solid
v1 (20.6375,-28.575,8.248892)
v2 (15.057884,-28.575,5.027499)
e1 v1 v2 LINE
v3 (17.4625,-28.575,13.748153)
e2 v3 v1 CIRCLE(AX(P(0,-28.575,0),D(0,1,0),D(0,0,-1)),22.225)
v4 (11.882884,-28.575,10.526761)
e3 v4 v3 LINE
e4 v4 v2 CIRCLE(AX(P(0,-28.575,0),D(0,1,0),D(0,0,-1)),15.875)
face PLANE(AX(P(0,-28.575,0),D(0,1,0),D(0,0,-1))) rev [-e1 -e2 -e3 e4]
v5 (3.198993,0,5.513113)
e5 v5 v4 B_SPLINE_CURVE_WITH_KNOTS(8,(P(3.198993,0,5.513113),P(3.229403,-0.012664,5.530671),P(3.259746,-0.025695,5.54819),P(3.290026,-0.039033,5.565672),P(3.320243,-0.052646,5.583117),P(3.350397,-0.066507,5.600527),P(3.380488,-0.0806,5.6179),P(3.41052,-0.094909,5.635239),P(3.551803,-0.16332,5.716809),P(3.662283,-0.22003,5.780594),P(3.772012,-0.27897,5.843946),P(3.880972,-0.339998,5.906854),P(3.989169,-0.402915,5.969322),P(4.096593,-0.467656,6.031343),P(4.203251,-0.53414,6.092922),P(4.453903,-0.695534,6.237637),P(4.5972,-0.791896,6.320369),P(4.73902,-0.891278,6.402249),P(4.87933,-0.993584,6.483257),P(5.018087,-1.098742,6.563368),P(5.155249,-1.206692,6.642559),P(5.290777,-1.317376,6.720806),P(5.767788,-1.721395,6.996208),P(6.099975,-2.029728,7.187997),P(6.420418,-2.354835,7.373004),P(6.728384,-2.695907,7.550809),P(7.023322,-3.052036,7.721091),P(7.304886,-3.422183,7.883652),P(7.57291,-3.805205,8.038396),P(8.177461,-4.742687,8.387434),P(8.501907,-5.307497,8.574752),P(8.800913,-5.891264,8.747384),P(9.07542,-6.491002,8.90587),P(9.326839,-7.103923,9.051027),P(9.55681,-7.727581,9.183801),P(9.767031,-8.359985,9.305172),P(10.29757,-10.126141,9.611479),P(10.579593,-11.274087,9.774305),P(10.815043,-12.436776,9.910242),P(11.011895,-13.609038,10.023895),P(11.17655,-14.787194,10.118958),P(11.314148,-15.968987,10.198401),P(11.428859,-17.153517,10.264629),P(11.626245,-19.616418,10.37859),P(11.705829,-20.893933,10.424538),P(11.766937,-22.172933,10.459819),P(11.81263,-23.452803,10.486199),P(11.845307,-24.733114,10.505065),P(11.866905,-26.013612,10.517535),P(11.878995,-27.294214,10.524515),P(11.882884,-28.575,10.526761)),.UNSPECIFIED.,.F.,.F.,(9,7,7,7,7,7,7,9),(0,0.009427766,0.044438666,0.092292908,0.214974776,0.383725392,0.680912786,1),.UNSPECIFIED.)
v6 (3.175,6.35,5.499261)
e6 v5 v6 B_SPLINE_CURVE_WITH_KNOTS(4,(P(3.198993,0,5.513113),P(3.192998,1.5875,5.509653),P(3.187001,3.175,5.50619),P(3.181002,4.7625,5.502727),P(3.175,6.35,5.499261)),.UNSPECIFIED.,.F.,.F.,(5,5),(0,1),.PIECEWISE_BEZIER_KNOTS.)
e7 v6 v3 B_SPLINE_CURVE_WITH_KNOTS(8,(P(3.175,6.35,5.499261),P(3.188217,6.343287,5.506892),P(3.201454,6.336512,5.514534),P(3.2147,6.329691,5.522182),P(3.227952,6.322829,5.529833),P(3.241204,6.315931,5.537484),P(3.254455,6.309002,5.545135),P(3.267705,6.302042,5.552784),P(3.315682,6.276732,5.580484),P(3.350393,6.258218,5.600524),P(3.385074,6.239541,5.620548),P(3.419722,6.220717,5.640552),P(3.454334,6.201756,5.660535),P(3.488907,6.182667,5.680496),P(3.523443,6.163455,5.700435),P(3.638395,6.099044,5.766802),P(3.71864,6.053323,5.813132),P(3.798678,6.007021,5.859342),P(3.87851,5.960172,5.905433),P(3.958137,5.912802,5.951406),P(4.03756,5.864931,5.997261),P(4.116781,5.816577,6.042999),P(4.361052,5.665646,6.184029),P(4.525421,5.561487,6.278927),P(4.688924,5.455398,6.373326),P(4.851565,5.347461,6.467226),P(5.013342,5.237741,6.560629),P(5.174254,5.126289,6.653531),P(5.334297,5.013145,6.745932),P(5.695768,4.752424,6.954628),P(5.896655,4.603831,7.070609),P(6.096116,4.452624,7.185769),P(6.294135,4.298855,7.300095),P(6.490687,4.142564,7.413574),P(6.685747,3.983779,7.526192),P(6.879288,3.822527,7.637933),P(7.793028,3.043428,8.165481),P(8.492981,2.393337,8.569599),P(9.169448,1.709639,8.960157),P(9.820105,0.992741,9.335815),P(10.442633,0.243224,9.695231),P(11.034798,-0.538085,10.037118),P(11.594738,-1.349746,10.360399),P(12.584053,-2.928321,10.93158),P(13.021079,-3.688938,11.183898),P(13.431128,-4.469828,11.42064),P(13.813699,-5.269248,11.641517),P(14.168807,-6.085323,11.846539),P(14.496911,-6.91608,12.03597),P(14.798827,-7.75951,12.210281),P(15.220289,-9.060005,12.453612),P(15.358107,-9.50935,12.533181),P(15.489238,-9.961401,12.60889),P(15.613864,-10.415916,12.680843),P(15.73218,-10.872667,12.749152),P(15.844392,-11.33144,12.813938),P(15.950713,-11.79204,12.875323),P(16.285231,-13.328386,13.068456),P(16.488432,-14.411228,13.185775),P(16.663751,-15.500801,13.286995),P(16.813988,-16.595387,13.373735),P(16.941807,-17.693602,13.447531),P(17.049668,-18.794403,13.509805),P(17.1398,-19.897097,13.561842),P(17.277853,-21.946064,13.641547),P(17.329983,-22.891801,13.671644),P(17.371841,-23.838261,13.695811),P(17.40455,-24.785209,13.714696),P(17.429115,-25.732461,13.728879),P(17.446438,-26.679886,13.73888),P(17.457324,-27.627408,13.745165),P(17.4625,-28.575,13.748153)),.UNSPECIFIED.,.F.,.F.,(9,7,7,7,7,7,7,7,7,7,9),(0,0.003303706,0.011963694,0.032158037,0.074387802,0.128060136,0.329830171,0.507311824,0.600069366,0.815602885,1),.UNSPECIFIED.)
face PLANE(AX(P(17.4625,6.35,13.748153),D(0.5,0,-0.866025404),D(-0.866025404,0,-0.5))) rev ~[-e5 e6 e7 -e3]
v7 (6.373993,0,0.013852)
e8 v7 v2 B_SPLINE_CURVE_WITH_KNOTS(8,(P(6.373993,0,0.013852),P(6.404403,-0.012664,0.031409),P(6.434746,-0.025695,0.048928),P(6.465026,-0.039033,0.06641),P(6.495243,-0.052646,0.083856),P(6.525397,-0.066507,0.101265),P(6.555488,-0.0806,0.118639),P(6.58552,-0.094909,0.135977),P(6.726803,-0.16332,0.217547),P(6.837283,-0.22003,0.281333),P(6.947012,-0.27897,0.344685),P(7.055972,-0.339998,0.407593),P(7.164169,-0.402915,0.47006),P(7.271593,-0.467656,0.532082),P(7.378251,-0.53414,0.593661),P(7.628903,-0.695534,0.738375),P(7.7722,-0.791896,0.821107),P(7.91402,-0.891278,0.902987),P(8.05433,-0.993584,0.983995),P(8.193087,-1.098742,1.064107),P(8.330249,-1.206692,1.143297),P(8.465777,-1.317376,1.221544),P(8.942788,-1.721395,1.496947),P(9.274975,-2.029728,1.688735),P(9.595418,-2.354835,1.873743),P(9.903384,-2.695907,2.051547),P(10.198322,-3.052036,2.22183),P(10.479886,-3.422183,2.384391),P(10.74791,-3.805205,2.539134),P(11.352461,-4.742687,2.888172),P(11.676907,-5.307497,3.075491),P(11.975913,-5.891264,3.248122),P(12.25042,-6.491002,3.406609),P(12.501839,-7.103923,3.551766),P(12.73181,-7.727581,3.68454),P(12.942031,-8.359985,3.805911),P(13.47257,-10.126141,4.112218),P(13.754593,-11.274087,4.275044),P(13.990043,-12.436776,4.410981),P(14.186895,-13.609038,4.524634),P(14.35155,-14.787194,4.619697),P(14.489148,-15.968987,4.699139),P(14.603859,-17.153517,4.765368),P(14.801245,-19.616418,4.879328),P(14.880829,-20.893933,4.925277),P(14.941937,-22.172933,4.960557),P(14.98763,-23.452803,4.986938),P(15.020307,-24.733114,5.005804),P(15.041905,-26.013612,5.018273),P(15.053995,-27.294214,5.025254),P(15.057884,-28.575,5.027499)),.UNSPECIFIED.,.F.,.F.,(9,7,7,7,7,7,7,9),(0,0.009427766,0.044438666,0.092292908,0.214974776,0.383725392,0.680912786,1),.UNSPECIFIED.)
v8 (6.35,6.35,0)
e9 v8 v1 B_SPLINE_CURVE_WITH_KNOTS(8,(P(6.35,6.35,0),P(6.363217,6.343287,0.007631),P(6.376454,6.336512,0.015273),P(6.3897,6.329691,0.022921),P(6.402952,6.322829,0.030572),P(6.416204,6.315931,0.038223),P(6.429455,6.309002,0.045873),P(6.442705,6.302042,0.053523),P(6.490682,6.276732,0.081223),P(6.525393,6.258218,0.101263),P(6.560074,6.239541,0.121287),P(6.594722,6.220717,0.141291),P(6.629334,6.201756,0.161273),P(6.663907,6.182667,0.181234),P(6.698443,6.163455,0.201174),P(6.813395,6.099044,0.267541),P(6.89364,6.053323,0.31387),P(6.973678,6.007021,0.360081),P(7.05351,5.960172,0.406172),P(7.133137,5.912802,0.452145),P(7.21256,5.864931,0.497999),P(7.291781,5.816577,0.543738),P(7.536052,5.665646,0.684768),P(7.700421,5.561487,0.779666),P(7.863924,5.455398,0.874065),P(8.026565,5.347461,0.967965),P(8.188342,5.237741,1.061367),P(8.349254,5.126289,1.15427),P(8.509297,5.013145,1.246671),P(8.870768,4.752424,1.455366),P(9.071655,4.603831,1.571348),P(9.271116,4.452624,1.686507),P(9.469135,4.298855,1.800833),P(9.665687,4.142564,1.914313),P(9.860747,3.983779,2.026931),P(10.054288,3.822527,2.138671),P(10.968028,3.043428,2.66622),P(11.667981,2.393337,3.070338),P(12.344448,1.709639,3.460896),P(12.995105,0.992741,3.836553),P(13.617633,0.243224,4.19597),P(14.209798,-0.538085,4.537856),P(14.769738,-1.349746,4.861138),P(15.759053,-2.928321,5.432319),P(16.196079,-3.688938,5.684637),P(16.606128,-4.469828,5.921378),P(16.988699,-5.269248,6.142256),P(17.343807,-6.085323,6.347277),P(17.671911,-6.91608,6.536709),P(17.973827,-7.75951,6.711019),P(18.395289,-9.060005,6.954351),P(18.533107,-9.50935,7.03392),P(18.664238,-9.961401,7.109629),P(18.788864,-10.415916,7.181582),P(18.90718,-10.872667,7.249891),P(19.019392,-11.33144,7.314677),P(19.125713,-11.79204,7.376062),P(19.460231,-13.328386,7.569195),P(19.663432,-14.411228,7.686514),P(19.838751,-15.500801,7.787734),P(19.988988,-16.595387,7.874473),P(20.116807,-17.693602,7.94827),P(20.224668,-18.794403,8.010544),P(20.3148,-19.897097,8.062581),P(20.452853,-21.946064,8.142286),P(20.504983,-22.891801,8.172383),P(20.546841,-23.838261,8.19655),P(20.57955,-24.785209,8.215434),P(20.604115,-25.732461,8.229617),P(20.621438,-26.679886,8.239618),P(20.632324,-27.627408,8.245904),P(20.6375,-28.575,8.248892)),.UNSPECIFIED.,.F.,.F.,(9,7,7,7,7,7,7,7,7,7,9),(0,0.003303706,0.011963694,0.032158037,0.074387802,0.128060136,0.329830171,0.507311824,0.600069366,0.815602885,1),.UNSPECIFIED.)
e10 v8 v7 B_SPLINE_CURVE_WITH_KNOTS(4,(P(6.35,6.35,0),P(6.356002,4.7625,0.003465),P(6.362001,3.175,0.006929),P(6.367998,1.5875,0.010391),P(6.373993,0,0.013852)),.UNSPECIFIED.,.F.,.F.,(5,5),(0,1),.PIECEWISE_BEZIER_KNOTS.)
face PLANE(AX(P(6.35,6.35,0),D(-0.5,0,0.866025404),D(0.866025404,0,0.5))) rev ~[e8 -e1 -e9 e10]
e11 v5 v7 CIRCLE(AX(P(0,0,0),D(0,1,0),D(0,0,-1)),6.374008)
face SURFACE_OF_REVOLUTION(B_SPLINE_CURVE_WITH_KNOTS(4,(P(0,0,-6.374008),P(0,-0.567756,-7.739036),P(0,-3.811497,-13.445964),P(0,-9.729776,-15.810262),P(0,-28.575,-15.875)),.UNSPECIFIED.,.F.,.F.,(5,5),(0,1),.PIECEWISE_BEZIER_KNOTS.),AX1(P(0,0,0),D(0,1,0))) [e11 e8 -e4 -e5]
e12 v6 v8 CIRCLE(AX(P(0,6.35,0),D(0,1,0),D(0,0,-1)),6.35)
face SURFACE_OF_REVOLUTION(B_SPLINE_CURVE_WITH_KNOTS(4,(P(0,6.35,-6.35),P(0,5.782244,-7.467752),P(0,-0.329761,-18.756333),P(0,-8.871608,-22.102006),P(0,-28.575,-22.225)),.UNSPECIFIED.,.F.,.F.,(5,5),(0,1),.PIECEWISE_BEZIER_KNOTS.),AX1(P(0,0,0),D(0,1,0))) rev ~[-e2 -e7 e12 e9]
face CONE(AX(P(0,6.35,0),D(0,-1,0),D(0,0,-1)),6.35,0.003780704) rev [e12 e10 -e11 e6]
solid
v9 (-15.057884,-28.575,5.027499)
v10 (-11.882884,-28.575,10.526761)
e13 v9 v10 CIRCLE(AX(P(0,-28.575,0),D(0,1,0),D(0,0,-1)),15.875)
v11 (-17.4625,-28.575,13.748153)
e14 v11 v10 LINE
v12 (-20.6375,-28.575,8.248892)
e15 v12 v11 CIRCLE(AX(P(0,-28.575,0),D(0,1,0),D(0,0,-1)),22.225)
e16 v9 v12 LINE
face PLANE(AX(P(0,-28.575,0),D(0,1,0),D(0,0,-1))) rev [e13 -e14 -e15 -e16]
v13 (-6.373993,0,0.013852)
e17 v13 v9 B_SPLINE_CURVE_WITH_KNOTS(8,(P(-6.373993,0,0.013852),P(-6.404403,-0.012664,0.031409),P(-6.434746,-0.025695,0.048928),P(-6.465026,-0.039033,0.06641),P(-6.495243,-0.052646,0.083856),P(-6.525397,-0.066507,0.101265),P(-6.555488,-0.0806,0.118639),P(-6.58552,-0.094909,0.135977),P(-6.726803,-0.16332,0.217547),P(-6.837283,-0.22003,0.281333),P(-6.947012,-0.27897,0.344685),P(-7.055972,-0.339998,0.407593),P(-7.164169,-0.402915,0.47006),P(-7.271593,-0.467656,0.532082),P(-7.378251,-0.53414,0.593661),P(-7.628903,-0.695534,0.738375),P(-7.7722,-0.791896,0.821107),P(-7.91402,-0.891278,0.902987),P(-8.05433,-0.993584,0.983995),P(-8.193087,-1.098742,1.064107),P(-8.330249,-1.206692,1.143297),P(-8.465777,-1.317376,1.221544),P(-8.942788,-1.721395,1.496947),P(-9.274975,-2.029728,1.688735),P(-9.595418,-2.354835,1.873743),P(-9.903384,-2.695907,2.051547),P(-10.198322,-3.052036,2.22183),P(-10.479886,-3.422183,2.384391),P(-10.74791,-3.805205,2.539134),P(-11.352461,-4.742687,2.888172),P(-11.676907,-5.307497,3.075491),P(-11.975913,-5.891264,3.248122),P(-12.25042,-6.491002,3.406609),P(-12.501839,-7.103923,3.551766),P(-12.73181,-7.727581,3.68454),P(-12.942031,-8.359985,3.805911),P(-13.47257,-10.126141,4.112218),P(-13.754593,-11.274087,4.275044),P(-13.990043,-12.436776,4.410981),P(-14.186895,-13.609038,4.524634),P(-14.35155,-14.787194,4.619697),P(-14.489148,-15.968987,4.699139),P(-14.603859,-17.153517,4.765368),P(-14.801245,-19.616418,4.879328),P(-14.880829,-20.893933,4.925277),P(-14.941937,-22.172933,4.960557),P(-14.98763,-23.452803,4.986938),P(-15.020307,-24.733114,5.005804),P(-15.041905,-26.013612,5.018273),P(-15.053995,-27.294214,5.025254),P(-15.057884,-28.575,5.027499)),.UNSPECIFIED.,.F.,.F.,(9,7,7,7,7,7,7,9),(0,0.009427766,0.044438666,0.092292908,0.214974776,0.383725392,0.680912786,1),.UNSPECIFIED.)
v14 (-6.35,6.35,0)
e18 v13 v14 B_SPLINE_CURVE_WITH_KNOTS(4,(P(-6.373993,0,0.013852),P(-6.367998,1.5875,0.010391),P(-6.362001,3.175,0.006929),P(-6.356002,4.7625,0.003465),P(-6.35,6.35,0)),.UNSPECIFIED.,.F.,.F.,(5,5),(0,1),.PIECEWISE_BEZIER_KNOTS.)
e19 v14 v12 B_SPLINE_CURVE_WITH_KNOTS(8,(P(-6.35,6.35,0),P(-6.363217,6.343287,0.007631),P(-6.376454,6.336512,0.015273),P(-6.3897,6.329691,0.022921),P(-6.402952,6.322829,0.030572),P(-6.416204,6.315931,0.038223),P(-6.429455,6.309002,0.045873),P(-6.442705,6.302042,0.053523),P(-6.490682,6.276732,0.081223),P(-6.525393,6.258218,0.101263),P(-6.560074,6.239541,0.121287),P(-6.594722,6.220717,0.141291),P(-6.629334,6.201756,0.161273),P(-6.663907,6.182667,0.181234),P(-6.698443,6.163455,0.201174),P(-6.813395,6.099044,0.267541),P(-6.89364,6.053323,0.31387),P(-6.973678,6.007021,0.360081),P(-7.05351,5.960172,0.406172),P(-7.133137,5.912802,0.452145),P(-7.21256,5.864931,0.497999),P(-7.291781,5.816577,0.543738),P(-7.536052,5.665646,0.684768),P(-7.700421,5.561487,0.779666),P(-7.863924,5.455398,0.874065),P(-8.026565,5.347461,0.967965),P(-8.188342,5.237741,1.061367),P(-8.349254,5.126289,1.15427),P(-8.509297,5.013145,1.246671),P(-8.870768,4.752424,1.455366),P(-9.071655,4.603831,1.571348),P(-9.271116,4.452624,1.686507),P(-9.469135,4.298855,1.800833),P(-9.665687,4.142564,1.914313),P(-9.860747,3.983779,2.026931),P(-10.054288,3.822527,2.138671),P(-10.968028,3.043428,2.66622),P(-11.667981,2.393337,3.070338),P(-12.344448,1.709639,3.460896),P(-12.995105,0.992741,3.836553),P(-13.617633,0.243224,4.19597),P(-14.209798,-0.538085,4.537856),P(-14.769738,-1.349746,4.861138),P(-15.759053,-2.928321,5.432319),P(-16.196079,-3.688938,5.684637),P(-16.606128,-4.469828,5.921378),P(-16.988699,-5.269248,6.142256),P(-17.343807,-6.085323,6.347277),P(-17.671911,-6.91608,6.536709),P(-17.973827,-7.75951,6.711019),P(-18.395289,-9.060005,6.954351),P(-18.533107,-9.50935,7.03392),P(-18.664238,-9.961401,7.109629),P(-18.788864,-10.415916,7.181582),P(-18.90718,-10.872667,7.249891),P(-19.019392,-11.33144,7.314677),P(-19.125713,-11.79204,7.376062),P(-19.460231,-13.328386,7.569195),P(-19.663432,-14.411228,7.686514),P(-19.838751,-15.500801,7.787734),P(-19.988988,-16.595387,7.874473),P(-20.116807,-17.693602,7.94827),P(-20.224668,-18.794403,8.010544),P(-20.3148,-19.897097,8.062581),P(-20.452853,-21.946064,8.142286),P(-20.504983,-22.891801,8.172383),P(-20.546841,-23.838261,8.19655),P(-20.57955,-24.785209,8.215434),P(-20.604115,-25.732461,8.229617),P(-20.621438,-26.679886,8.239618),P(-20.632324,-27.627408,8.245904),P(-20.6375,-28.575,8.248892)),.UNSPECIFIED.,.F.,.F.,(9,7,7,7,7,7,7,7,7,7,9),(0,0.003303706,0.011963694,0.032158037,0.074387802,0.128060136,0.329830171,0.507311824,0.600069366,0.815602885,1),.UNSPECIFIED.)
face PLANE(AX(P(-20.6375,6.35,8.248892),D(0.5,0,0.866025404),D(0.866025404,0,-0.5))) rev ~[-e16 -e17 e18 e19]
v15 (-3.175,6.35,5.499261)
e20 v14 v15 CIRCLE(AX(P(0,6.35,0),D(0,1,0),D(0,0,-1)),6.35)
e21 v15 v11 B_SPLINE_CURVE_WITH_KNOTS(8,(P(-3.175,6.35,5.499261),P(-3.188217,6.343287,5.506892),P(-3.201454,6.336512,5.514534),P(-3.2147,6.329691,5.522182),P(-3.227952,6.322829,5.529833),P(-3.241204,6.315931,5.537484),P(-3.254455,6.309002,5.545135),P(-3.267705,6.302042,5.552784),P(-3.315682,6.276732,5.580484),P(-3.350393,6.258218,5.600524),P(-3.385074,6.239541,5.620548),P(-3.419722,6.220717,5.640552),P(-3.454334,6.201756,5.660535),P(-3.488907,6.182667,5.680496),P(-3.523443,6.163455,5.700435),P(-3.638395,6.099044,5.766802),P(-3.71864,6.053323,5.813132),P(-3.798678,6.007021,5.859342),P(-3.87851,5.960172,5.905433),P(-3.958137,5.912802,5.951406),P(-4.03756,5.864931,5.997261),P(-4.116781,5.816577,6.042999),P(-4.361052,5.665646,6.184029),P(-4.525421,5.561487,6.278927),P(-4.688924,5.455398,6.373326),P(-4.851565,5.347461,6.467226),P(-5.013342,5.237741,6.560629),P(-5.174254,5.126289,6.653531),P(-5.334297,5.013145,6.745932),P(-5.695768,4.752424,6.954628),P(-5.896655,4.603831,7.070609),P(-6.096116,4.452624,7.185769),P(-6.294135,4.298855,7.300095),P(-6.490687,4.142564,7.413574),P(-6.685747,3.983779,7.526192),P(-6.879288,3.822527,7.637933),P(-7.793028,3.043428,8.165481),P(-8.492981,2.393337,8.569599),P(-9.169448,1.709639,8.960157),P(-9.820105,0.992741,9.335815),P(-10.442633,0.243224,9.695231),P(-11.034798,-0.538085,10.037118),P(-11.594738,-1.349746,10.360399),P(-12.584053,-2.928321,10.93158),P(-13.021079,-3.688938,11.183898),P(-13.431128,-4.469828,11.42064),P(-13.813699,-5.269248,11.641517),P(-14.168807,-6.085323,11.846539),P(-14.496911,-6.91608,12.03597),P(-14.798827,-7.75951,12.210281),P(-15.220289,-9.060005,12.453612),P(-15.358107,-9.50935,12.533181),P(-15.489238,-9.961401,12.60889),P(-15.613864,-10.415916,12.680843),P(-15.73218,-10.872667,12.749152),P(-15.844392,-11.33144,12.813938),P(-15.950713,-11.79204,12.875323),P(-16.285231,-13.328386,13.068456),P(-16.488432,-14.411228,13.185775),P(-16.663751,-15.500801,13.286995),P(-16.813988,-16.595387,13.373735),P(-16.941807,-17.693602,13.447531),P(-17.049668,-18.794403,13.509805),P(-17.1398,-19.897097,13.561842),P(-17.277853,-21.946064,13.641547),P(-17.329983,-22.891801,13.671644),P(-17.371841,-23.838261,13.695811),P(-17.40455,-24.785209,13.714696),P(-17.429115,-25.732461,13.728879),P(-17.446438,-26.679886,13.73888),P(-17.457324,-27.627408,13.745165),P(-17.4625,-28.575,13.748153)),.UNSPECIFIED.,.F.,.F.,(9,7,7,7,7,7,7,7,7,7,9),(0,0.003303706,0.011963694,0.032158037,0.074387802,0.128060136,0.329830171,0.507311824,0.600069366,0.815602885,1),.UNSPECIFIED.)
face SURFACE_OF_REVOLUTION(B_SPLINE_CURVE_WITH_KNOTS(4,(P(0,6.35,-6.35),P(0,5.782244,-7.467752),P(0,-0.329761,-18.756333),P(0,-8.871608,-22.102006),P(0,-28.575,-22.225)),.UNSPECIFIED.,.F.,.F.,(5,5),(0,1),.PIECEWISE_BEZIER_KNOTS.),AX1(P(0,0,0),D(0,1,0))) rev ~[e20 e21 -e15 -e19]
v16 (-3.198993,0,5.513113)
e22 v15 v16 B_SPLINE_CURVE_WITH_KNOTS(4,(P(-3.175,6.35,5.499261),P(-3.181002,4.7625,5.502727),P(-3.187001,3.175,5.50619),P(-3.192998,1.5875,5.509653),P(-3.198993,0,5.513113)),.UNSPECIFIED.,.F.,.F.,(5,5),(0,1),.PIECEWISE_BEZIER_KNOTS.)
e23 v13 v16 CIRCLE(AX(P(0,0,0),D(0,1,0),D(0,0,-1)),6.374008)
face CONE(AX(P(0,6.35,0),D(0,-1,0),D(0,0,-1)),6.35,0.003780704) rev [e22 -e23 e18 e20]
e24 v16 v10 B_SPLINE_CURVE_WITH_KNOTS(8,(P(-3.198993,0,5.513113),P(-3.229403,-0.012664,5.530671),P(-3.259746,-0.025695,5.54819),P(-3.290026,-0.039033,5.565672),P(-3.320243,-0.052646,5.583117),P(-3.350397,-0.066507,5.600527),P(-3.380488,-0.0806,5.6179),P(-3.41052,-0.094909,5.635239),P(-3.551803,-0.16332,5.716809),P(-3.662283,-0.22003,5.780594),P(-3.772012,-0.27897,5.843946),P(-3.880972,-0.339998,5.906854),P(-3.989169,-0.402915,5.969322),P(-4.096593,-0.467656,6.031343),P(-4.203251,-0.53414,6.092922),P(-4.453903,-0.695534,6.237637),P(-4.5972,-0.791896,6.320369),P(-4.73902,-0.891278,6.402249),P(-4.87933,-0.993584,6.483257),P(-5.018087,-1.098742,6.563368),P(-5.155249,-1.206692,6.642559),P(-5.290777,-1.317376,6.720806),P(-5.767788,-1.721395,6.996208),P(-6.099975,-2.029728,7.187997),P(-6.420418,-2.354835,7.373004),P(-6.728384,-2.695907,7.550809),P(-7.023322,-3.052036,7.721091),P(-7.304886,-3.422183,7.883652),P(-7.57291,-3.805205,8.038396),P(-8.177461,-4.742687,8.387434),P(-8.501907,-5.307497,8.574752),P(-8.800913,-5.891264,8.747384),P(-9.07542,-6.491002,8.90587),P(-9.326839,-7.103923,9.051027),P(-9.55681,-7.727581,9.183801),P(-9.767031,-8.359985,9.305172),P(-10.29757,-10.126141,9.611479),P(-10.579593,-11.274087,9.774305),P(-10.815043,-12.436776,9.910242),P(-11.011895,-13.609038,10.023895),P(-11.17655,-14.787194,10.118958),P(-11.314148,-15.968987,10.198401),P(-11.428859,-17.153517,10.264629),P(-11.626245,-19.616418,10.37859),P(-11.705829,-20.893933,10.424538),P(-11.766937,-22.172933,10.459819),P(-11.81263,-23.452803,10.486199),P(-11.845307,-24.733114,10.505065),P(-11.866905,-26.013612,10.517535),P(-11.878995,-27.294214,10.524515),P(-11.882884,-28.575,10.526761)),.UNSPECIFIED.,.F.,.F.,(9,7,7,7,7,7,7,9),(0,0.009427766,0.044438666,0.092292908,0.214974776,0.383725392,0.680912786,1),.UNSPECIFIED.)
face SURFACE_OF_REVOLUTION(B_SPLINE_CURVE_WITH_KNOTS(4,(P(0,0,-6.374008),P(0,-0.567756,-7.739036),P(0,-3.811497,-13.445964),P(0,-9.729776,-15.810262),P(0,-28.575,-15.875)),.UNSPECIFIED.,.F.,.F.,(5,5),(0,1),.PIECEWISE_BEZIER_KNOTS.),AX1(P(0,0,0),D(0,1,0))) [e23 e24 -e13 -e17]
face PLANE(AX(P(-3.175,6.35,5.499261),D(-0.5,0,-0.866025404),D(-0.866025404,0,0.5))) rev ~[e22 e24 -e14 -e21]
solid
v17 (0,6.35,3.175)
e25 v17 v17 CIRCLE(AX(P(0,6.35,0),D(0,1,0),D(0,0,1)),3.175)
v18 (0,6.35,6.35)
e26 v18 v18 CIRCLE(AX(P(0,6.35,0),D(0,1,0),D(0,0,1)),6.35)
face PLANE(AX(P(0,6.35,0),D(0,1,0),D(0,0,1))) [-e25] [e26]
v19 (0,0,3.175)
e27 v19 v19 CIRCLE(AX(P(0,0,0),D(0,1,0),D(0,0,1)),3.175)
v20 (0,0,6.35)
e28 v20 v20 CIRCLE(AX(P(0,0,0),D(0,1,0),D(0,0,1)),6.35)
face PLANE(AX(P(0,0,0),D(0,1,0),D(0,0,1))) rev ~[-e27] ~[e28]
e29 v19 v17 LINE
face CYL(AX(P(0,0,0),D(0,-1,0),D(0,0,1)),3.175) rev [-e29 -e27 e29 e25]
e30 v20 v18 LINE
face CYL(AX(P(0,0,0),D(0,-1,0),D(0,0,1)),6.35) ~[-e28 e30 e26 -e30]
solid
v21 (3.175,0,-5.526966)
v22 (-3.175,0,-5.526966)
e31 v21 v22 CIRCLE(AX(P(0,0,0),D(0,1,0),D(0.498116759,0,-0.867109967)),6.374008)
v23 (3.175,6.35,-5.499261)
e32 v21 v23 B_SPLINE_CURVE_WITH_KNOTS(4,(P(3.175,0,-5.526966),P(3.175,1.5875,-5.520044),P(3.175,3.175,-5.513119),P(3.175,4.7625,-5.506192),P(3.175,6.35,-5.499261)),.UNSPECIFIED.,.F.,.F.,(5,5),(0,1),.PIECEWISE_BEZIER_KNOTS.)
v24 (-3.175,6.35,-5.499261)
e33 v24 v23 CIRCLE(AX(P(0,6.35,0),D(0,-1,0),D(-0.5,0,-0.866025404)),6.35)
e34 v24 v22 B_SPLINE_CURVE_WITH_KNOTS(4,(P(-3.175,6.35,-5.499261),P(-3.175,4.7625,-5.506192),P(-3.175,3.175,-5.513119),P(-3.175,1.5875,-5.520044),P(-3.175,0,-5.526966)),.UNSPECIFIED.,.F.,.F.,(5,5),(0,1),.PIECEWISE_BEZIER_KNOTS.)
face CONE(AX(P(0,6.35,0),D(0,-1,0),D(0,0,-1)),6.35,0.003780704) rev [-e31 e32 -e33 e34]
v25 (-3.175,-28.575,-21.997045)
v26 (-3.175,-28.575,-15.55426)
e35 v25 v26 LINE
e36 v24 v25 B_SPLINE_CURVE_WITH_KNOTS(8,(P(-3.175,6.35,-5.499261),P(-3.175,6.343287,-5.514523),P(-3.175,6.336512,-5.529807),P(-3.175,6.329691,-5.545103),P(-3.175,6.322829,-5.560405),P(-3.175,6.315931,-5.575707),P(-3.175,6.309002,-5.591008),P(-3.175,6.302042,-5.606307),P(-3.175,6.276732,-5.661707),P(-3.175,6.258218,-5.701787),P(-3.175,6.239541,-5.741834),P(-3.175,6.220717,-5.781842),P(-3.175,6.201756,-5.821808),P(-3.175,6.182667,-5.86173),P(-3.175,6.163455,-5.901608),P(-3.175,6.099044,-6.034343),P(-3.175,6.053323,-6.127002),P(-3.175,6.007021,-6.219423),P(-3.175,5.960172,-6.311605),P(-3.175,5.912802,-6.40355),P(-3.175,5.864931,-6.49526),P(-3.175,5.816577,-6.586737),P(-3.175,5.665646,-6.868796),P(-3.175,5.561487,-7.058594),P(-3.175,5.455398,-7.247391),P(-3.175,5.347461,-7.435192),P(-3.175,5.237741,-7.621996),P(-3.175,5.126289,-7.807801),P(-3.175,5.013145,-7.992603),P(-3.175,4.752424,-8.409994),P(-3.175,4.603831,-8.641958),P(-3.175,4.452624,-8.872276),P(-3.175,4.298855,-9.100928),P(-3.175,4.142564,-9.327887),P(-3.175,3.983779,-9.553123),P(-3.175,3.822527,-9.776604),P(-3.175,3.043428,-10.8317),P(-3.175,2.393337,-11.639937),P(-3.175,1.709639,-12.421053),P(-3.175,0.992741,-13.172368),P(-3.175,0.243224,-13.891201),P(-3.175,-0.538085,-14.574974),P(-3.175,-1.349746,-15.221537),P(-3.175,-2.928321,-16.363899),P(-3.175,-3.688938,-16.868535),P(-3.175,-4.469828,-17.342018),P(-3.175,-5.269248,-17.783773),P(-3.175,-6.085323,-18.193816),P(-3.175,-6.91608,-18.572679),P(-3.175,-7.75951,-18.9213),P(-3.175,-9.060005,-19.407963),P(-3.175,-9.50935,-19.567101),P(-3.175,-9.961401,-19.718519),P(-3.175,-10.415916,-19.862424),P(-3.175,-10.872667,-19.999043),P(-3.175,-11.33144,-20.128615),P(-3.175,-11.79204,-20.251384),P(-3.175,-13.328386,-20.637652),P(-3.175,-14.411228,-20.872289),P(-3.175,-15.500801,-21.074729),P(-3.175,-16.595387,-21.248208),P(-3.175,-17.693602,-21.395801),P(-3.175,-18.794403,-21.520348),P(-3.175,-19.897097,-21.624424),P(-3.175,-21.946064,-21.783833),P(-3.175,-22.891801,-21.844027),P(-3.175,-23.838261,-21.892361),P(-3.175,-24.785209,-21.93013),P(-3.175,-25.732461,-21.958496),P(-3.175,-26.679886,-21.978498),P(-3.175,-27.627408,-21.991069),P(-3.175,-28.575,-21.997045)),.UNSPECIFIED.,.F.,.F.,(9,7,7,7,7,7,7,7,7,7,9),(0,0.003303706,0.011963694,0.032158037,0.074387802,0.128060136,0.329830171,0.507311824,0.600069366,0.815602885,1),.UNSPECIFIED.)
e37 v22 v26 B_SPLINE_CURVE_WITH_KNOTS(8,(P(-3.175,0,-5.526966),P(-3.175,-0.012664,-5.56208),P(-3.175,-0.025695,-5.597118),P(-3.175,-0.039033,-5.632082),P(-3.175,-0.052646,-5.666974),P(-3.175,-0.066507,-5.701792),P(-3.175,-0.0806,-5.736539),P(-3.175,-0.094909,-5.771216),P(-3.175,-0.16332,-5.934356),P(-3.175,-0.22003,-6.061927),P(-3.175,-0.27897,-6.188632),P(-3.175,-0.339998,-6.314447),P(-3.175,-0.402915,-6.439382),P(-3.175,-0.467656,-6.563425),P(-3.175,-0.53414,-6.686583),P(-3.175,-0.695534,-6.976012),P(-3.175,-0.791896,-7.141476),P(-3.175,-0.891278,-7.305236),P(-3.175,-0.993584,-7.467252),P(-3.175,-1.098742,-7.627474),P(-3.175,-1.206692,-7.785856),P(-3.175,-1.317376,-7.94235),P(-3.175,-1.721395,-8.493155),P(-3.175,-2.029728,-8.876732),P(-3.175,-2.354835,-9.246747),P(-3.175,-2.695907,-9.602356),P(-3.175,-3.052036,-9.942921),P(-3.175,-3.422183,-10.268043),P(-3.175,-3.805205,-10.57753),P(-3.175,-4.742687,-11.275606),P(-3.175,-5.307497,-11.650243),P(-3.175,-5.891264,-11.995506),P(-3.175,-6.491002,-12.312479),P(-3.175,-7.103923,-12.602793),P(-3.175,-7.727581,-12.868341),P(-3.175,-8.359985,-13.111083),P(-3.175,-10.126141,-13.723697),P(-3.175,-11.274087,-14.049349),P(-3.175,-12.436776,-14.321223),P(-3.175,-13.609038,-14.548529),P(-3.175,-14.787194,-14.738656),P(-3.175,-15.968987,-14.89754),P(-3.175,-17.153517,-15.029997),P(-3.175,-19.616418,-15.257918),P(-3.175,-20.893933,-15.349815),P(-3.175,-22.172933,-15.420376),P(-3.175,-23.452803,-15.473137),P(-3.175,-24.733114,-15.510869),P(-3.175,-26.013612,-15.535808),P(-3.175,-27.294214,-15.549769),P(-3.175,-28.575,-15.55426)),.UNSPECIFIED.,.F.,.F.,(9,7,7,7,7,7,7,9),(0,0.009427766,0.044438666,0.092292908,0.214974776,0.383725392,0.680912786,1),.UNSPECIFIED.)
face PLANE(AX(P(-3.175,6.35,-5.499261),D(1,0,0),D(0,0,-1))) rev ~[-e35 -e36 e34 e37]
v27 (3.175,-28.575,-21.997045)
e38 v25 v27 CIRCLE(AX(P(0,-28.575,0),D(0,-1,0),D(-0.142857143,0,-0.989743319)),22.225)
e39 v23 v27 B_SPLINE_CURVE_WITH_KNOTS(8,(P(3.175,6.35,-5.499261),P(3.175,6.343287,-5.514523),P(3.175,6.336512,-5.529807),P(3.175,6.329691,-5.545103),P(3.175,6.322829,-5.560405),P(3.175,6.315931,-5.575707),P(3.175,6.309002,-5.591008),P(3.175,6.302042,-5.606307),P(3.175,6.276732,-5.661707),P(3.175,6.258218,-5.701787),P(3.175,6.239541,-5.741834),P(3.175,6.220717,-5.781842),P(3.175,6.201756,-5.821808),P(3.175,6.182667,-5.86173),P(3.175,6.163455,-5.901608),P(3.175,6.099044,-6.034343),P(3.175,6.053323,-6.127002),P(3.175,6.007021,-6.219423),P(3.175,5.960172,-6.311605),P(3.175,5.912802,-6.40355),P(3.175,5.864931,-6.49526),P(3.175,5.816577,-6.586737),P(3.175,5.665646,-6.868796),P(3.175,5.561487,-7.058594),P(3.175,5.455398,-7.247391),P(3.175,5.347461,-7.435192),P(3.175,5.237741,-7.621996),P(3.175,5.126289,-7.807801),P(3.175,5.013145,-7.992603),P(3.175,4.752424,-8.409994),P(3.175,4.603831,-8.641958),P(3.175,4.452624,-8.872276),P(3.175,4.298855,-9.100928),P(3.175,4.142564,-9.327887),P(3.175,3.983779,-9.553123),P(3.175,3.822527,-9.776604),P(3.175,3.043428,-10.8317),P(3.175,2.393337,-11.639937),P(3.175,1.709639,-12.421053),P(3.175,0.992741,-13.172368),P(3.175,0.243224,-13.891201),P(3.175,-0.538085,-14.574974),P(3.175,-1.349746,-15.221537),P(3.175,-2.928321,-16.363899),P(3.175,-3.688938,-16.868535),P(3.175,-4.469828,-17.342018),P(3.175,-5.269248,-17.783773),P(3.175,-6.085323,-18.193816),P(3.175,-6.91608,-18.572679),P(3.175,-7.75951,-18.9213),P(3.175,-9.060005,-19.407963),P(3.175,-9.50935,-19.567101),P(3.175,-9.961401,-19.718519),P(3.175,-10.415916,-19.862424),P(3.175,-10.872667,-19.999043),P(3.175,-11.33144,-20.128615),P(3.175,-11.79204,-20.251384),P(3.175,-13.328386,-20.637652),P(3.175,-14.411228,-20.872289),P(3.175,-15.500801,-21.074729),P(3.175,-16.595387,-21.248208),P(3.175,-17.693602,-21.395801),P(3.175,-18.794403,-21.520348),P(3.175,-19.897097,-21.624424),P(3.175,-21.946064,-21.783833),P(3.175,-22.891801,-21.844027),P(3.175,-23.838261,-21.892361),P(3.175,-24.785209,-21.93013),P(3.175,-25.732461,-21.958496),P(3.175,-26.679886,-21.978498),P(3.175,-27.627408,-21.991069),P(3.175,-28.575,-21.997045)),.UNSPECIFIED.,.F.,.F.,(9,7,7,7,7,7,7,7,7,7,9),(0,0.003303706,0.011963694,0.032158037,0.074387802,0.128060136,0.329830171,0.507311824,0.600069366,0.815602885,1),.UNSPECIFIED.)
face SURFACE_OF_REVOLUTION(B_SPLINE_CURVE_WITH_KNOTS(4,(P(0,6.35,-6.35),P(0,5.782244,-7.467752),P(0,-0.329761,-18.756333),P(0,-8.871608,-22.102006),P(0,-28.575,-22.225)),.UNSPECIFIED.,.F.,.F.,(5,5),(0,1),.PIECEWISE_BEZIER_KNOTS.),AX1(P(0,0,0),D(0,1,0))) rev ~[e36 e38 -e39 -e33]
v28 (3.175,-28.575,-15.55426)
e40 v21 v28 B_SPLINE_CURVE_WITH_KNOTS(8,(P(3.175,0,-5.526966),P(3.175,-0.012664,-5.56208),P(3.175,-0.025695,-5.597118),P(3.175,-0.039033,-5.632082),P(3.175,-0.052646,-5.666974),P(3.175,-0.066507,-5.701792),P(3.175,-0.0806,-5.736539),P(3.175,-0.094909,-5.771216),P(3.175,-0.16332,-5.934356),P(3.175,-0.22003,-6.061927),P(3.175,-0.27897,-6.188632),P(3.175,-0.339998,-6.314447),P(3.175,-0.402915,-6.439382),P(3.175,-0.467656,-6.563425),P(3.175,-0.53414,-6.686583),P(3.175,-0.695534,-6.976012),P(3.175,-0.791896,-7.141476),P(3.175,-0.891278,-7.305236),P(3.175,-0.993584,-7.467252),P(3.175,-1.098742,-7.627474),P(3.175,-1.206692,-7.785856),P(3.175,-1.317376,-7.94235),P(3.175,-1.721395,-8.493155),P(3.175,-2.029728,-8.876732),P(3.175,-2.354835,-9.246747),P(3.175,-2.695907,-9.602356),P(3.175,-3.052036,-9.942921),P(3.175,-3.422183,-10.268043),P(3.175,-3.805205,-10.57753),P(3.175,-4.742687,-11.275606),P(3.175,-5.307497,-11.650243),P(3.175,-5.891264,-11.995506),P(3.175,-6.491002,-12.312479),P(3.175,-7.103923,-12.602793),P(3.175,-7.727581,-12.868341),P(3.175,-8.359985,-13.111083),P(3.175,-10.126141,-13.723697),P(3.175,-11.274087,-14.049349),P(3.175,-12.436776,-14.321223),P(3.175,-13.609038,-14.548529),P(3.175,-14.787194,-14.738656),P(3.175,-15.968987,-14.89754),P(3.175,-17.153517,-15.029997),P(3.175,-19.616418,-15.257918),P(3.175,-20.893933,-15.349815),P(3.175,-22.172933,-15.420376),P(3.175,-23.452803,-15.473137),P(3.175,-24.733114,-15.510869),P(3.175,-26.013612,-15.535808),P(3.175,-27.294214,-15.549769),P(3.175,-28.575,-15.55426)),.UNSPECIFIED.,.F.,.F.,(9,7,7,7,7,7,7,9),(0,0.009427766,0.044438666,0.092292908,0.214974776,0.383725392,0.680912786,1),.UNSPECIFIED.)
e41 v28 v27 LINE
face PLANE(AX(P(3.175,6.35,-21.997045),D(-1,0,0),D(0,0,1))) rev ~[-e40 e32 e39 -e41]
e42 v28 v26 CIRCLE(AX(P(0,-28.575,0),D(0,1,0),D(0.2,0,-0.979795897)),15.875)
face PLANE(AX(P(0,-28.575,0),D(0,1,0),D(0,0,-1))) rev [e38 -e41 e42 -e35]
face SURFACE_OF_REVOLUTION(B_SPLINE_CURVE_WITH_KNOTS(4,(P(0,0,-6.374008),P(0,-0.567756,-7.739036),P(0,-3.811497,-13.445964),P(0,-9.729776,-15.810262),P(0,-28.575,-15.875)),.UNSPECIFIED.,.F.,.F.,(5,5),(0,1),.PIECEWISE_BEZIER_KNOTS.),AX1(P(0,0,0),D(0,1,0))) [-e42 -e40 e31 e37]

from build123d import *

# Parameters (mm, degrees)
SKETCH2_R           = 6.35
SKETCH2_R_2         = 3.175
BOSS_EXTRUDE1_DEPTH = 6.35
CUT_EXTRUDE1_DEPTH  = 47.985709432


with BuildPart() as part:
    # Sketch2 → Boss-Extrude1 (new body)
    with BuildSketch(Plane(origin=(0, 0, 0), x_dir=(1, 0, 0), z_dir=(0, 1, 0))):
        with Locations(Location((0, 0, 0), (0, 0, 270))):
            Circle(SKETCH2_R)
        with Locations(Location((0, 0, 0), (0, 0, 270))):
            Circle(SKETCH2_R_2, mode=Mode.SUBTRACT)
    extrude(amount=BOSS_EXTRUDE1_DEPTH)


with BuildPart() as body_2:
    # Sketch6 → Revolve1 (revolve)
    with BuildSketch(Plane.XY, mode=Mode.PRIVATE) as revolve1_sk:
        with BuildLine():
            Line((15.875, -28.575), (22.225, -28.575))
            add(Edge.make_bspline(
                [(6.35, 6.35), (7.467751563, 5.782243558), (18.756333032, -0.329761449), (22.102006344, -8.871607917), (22.225, -28.575)],
                knots=[0, 0, 0, 0, 0, 1, 1, 1, 1, 1], degree=4))
            Line((6.35, 6.35), (6.374007583, 0))
            add(Edge.make_bspline(
                [(6.374007583, 0), (7.73903602, -0.567756442), (13.445964189, -3.811497044), (15.810261971, -9.729776165), (15.875, -28.575)],
                knots=[0, 0, 0, 0, 0, 1, 1, 1, 1, 1], degree=4))
        make_face()
    revolve(revolve1_sk.sketch.rotate(Axis((0, 0, 0), (0, 1, 0)), 90), axis=Axis((0, 0, 0), (0, 1, 0)))

    # Sketch8 → Cut-Extrude1 (cut, through all)
    with BuildSketch(Plane(origin=(0, 6.35, 0), x_dir=(1, 0, 0), z_dir=(0, 1, 0))):
        with BuildLine():
            ThreePointArc((-6.35, 0), (-5.499261314, 3.175), (-3.175, 5.499261314))
            Line((-3.175, 5.499261314), (-3.175, 21.997045256))
            ThreePointArc((-3.175, 21.997045256), (-19.247414599, 11.1125), (-20.6375, -8.248891971))
            Line((-20.6375, -8.248891971), (-6.35, 0))
        make_face()
        with BuildLine():
            Line((3.175, 21.997045256), (3.175, 5.499261314))
            ThreePointArc((3.175, 5.499261314), (5.499261314, 3.175), (6.35, 0))
            Line((6.35, 0), (20.6375, -8.248891971))
            ThreePointArc((20.6375, -8.248891971), (21.824516747, -4.200130206), (22.225, 0))
            ThreePointArc((22.225, 0), (16.800520825, 14.549677831), (3.175, 21.997045256))
        make_face()
        with BuildLine():
            ThreePointArc((3.175, -5.499261314), (0, -6.35), (-3.175, -5.499261314))
            Line((-3.175, -5.499261314), (-17.4625, -13.748153285))
            ThreePointArc((-17.4625, -13.748153285), (0, -22.225), (17.4625, -13.748153285))
            Line((17.4625, -13.748153285), (3.175, -5.499261314))
        make_face()
    extrude(amount=-CUT_EXTRUDE1_DEPTH, mode=Mode.SUBTRACT)


with BuildPart() as cut_extrude1_piece_1:
    # of the separate pieces the step leaves, piece 1, a body of its own (cut_extrude1_pieces)
    add(body_2.part.solids().sort_by_distance((-15.057884182, -28.575, 5.027499276))[0])


with BuildPart() as cut_extrude1_piece_2:
    # of the separate pieces the step leaves, piece 2, a body of its own (cut_extrude1_pieces)
    add(body_2.part.solids().sort_by_distance((11.882884182, -28.575, 10.52676059))[0])


with BuildPart() as cut_extrude1_piece_3:
    # of the separate pieces the step leaves, piece 3, a body of its own (cut_extrude1_pieces)
    add(body_2.part.solids().sort_by_distance((3.175, -28.575, -15.554259867))[0])


solid = Compound([part.part, cut_extrude1_piece_1.part, cut_extrude1_piece_2.part, cut_extrude1_piece_3.part])
